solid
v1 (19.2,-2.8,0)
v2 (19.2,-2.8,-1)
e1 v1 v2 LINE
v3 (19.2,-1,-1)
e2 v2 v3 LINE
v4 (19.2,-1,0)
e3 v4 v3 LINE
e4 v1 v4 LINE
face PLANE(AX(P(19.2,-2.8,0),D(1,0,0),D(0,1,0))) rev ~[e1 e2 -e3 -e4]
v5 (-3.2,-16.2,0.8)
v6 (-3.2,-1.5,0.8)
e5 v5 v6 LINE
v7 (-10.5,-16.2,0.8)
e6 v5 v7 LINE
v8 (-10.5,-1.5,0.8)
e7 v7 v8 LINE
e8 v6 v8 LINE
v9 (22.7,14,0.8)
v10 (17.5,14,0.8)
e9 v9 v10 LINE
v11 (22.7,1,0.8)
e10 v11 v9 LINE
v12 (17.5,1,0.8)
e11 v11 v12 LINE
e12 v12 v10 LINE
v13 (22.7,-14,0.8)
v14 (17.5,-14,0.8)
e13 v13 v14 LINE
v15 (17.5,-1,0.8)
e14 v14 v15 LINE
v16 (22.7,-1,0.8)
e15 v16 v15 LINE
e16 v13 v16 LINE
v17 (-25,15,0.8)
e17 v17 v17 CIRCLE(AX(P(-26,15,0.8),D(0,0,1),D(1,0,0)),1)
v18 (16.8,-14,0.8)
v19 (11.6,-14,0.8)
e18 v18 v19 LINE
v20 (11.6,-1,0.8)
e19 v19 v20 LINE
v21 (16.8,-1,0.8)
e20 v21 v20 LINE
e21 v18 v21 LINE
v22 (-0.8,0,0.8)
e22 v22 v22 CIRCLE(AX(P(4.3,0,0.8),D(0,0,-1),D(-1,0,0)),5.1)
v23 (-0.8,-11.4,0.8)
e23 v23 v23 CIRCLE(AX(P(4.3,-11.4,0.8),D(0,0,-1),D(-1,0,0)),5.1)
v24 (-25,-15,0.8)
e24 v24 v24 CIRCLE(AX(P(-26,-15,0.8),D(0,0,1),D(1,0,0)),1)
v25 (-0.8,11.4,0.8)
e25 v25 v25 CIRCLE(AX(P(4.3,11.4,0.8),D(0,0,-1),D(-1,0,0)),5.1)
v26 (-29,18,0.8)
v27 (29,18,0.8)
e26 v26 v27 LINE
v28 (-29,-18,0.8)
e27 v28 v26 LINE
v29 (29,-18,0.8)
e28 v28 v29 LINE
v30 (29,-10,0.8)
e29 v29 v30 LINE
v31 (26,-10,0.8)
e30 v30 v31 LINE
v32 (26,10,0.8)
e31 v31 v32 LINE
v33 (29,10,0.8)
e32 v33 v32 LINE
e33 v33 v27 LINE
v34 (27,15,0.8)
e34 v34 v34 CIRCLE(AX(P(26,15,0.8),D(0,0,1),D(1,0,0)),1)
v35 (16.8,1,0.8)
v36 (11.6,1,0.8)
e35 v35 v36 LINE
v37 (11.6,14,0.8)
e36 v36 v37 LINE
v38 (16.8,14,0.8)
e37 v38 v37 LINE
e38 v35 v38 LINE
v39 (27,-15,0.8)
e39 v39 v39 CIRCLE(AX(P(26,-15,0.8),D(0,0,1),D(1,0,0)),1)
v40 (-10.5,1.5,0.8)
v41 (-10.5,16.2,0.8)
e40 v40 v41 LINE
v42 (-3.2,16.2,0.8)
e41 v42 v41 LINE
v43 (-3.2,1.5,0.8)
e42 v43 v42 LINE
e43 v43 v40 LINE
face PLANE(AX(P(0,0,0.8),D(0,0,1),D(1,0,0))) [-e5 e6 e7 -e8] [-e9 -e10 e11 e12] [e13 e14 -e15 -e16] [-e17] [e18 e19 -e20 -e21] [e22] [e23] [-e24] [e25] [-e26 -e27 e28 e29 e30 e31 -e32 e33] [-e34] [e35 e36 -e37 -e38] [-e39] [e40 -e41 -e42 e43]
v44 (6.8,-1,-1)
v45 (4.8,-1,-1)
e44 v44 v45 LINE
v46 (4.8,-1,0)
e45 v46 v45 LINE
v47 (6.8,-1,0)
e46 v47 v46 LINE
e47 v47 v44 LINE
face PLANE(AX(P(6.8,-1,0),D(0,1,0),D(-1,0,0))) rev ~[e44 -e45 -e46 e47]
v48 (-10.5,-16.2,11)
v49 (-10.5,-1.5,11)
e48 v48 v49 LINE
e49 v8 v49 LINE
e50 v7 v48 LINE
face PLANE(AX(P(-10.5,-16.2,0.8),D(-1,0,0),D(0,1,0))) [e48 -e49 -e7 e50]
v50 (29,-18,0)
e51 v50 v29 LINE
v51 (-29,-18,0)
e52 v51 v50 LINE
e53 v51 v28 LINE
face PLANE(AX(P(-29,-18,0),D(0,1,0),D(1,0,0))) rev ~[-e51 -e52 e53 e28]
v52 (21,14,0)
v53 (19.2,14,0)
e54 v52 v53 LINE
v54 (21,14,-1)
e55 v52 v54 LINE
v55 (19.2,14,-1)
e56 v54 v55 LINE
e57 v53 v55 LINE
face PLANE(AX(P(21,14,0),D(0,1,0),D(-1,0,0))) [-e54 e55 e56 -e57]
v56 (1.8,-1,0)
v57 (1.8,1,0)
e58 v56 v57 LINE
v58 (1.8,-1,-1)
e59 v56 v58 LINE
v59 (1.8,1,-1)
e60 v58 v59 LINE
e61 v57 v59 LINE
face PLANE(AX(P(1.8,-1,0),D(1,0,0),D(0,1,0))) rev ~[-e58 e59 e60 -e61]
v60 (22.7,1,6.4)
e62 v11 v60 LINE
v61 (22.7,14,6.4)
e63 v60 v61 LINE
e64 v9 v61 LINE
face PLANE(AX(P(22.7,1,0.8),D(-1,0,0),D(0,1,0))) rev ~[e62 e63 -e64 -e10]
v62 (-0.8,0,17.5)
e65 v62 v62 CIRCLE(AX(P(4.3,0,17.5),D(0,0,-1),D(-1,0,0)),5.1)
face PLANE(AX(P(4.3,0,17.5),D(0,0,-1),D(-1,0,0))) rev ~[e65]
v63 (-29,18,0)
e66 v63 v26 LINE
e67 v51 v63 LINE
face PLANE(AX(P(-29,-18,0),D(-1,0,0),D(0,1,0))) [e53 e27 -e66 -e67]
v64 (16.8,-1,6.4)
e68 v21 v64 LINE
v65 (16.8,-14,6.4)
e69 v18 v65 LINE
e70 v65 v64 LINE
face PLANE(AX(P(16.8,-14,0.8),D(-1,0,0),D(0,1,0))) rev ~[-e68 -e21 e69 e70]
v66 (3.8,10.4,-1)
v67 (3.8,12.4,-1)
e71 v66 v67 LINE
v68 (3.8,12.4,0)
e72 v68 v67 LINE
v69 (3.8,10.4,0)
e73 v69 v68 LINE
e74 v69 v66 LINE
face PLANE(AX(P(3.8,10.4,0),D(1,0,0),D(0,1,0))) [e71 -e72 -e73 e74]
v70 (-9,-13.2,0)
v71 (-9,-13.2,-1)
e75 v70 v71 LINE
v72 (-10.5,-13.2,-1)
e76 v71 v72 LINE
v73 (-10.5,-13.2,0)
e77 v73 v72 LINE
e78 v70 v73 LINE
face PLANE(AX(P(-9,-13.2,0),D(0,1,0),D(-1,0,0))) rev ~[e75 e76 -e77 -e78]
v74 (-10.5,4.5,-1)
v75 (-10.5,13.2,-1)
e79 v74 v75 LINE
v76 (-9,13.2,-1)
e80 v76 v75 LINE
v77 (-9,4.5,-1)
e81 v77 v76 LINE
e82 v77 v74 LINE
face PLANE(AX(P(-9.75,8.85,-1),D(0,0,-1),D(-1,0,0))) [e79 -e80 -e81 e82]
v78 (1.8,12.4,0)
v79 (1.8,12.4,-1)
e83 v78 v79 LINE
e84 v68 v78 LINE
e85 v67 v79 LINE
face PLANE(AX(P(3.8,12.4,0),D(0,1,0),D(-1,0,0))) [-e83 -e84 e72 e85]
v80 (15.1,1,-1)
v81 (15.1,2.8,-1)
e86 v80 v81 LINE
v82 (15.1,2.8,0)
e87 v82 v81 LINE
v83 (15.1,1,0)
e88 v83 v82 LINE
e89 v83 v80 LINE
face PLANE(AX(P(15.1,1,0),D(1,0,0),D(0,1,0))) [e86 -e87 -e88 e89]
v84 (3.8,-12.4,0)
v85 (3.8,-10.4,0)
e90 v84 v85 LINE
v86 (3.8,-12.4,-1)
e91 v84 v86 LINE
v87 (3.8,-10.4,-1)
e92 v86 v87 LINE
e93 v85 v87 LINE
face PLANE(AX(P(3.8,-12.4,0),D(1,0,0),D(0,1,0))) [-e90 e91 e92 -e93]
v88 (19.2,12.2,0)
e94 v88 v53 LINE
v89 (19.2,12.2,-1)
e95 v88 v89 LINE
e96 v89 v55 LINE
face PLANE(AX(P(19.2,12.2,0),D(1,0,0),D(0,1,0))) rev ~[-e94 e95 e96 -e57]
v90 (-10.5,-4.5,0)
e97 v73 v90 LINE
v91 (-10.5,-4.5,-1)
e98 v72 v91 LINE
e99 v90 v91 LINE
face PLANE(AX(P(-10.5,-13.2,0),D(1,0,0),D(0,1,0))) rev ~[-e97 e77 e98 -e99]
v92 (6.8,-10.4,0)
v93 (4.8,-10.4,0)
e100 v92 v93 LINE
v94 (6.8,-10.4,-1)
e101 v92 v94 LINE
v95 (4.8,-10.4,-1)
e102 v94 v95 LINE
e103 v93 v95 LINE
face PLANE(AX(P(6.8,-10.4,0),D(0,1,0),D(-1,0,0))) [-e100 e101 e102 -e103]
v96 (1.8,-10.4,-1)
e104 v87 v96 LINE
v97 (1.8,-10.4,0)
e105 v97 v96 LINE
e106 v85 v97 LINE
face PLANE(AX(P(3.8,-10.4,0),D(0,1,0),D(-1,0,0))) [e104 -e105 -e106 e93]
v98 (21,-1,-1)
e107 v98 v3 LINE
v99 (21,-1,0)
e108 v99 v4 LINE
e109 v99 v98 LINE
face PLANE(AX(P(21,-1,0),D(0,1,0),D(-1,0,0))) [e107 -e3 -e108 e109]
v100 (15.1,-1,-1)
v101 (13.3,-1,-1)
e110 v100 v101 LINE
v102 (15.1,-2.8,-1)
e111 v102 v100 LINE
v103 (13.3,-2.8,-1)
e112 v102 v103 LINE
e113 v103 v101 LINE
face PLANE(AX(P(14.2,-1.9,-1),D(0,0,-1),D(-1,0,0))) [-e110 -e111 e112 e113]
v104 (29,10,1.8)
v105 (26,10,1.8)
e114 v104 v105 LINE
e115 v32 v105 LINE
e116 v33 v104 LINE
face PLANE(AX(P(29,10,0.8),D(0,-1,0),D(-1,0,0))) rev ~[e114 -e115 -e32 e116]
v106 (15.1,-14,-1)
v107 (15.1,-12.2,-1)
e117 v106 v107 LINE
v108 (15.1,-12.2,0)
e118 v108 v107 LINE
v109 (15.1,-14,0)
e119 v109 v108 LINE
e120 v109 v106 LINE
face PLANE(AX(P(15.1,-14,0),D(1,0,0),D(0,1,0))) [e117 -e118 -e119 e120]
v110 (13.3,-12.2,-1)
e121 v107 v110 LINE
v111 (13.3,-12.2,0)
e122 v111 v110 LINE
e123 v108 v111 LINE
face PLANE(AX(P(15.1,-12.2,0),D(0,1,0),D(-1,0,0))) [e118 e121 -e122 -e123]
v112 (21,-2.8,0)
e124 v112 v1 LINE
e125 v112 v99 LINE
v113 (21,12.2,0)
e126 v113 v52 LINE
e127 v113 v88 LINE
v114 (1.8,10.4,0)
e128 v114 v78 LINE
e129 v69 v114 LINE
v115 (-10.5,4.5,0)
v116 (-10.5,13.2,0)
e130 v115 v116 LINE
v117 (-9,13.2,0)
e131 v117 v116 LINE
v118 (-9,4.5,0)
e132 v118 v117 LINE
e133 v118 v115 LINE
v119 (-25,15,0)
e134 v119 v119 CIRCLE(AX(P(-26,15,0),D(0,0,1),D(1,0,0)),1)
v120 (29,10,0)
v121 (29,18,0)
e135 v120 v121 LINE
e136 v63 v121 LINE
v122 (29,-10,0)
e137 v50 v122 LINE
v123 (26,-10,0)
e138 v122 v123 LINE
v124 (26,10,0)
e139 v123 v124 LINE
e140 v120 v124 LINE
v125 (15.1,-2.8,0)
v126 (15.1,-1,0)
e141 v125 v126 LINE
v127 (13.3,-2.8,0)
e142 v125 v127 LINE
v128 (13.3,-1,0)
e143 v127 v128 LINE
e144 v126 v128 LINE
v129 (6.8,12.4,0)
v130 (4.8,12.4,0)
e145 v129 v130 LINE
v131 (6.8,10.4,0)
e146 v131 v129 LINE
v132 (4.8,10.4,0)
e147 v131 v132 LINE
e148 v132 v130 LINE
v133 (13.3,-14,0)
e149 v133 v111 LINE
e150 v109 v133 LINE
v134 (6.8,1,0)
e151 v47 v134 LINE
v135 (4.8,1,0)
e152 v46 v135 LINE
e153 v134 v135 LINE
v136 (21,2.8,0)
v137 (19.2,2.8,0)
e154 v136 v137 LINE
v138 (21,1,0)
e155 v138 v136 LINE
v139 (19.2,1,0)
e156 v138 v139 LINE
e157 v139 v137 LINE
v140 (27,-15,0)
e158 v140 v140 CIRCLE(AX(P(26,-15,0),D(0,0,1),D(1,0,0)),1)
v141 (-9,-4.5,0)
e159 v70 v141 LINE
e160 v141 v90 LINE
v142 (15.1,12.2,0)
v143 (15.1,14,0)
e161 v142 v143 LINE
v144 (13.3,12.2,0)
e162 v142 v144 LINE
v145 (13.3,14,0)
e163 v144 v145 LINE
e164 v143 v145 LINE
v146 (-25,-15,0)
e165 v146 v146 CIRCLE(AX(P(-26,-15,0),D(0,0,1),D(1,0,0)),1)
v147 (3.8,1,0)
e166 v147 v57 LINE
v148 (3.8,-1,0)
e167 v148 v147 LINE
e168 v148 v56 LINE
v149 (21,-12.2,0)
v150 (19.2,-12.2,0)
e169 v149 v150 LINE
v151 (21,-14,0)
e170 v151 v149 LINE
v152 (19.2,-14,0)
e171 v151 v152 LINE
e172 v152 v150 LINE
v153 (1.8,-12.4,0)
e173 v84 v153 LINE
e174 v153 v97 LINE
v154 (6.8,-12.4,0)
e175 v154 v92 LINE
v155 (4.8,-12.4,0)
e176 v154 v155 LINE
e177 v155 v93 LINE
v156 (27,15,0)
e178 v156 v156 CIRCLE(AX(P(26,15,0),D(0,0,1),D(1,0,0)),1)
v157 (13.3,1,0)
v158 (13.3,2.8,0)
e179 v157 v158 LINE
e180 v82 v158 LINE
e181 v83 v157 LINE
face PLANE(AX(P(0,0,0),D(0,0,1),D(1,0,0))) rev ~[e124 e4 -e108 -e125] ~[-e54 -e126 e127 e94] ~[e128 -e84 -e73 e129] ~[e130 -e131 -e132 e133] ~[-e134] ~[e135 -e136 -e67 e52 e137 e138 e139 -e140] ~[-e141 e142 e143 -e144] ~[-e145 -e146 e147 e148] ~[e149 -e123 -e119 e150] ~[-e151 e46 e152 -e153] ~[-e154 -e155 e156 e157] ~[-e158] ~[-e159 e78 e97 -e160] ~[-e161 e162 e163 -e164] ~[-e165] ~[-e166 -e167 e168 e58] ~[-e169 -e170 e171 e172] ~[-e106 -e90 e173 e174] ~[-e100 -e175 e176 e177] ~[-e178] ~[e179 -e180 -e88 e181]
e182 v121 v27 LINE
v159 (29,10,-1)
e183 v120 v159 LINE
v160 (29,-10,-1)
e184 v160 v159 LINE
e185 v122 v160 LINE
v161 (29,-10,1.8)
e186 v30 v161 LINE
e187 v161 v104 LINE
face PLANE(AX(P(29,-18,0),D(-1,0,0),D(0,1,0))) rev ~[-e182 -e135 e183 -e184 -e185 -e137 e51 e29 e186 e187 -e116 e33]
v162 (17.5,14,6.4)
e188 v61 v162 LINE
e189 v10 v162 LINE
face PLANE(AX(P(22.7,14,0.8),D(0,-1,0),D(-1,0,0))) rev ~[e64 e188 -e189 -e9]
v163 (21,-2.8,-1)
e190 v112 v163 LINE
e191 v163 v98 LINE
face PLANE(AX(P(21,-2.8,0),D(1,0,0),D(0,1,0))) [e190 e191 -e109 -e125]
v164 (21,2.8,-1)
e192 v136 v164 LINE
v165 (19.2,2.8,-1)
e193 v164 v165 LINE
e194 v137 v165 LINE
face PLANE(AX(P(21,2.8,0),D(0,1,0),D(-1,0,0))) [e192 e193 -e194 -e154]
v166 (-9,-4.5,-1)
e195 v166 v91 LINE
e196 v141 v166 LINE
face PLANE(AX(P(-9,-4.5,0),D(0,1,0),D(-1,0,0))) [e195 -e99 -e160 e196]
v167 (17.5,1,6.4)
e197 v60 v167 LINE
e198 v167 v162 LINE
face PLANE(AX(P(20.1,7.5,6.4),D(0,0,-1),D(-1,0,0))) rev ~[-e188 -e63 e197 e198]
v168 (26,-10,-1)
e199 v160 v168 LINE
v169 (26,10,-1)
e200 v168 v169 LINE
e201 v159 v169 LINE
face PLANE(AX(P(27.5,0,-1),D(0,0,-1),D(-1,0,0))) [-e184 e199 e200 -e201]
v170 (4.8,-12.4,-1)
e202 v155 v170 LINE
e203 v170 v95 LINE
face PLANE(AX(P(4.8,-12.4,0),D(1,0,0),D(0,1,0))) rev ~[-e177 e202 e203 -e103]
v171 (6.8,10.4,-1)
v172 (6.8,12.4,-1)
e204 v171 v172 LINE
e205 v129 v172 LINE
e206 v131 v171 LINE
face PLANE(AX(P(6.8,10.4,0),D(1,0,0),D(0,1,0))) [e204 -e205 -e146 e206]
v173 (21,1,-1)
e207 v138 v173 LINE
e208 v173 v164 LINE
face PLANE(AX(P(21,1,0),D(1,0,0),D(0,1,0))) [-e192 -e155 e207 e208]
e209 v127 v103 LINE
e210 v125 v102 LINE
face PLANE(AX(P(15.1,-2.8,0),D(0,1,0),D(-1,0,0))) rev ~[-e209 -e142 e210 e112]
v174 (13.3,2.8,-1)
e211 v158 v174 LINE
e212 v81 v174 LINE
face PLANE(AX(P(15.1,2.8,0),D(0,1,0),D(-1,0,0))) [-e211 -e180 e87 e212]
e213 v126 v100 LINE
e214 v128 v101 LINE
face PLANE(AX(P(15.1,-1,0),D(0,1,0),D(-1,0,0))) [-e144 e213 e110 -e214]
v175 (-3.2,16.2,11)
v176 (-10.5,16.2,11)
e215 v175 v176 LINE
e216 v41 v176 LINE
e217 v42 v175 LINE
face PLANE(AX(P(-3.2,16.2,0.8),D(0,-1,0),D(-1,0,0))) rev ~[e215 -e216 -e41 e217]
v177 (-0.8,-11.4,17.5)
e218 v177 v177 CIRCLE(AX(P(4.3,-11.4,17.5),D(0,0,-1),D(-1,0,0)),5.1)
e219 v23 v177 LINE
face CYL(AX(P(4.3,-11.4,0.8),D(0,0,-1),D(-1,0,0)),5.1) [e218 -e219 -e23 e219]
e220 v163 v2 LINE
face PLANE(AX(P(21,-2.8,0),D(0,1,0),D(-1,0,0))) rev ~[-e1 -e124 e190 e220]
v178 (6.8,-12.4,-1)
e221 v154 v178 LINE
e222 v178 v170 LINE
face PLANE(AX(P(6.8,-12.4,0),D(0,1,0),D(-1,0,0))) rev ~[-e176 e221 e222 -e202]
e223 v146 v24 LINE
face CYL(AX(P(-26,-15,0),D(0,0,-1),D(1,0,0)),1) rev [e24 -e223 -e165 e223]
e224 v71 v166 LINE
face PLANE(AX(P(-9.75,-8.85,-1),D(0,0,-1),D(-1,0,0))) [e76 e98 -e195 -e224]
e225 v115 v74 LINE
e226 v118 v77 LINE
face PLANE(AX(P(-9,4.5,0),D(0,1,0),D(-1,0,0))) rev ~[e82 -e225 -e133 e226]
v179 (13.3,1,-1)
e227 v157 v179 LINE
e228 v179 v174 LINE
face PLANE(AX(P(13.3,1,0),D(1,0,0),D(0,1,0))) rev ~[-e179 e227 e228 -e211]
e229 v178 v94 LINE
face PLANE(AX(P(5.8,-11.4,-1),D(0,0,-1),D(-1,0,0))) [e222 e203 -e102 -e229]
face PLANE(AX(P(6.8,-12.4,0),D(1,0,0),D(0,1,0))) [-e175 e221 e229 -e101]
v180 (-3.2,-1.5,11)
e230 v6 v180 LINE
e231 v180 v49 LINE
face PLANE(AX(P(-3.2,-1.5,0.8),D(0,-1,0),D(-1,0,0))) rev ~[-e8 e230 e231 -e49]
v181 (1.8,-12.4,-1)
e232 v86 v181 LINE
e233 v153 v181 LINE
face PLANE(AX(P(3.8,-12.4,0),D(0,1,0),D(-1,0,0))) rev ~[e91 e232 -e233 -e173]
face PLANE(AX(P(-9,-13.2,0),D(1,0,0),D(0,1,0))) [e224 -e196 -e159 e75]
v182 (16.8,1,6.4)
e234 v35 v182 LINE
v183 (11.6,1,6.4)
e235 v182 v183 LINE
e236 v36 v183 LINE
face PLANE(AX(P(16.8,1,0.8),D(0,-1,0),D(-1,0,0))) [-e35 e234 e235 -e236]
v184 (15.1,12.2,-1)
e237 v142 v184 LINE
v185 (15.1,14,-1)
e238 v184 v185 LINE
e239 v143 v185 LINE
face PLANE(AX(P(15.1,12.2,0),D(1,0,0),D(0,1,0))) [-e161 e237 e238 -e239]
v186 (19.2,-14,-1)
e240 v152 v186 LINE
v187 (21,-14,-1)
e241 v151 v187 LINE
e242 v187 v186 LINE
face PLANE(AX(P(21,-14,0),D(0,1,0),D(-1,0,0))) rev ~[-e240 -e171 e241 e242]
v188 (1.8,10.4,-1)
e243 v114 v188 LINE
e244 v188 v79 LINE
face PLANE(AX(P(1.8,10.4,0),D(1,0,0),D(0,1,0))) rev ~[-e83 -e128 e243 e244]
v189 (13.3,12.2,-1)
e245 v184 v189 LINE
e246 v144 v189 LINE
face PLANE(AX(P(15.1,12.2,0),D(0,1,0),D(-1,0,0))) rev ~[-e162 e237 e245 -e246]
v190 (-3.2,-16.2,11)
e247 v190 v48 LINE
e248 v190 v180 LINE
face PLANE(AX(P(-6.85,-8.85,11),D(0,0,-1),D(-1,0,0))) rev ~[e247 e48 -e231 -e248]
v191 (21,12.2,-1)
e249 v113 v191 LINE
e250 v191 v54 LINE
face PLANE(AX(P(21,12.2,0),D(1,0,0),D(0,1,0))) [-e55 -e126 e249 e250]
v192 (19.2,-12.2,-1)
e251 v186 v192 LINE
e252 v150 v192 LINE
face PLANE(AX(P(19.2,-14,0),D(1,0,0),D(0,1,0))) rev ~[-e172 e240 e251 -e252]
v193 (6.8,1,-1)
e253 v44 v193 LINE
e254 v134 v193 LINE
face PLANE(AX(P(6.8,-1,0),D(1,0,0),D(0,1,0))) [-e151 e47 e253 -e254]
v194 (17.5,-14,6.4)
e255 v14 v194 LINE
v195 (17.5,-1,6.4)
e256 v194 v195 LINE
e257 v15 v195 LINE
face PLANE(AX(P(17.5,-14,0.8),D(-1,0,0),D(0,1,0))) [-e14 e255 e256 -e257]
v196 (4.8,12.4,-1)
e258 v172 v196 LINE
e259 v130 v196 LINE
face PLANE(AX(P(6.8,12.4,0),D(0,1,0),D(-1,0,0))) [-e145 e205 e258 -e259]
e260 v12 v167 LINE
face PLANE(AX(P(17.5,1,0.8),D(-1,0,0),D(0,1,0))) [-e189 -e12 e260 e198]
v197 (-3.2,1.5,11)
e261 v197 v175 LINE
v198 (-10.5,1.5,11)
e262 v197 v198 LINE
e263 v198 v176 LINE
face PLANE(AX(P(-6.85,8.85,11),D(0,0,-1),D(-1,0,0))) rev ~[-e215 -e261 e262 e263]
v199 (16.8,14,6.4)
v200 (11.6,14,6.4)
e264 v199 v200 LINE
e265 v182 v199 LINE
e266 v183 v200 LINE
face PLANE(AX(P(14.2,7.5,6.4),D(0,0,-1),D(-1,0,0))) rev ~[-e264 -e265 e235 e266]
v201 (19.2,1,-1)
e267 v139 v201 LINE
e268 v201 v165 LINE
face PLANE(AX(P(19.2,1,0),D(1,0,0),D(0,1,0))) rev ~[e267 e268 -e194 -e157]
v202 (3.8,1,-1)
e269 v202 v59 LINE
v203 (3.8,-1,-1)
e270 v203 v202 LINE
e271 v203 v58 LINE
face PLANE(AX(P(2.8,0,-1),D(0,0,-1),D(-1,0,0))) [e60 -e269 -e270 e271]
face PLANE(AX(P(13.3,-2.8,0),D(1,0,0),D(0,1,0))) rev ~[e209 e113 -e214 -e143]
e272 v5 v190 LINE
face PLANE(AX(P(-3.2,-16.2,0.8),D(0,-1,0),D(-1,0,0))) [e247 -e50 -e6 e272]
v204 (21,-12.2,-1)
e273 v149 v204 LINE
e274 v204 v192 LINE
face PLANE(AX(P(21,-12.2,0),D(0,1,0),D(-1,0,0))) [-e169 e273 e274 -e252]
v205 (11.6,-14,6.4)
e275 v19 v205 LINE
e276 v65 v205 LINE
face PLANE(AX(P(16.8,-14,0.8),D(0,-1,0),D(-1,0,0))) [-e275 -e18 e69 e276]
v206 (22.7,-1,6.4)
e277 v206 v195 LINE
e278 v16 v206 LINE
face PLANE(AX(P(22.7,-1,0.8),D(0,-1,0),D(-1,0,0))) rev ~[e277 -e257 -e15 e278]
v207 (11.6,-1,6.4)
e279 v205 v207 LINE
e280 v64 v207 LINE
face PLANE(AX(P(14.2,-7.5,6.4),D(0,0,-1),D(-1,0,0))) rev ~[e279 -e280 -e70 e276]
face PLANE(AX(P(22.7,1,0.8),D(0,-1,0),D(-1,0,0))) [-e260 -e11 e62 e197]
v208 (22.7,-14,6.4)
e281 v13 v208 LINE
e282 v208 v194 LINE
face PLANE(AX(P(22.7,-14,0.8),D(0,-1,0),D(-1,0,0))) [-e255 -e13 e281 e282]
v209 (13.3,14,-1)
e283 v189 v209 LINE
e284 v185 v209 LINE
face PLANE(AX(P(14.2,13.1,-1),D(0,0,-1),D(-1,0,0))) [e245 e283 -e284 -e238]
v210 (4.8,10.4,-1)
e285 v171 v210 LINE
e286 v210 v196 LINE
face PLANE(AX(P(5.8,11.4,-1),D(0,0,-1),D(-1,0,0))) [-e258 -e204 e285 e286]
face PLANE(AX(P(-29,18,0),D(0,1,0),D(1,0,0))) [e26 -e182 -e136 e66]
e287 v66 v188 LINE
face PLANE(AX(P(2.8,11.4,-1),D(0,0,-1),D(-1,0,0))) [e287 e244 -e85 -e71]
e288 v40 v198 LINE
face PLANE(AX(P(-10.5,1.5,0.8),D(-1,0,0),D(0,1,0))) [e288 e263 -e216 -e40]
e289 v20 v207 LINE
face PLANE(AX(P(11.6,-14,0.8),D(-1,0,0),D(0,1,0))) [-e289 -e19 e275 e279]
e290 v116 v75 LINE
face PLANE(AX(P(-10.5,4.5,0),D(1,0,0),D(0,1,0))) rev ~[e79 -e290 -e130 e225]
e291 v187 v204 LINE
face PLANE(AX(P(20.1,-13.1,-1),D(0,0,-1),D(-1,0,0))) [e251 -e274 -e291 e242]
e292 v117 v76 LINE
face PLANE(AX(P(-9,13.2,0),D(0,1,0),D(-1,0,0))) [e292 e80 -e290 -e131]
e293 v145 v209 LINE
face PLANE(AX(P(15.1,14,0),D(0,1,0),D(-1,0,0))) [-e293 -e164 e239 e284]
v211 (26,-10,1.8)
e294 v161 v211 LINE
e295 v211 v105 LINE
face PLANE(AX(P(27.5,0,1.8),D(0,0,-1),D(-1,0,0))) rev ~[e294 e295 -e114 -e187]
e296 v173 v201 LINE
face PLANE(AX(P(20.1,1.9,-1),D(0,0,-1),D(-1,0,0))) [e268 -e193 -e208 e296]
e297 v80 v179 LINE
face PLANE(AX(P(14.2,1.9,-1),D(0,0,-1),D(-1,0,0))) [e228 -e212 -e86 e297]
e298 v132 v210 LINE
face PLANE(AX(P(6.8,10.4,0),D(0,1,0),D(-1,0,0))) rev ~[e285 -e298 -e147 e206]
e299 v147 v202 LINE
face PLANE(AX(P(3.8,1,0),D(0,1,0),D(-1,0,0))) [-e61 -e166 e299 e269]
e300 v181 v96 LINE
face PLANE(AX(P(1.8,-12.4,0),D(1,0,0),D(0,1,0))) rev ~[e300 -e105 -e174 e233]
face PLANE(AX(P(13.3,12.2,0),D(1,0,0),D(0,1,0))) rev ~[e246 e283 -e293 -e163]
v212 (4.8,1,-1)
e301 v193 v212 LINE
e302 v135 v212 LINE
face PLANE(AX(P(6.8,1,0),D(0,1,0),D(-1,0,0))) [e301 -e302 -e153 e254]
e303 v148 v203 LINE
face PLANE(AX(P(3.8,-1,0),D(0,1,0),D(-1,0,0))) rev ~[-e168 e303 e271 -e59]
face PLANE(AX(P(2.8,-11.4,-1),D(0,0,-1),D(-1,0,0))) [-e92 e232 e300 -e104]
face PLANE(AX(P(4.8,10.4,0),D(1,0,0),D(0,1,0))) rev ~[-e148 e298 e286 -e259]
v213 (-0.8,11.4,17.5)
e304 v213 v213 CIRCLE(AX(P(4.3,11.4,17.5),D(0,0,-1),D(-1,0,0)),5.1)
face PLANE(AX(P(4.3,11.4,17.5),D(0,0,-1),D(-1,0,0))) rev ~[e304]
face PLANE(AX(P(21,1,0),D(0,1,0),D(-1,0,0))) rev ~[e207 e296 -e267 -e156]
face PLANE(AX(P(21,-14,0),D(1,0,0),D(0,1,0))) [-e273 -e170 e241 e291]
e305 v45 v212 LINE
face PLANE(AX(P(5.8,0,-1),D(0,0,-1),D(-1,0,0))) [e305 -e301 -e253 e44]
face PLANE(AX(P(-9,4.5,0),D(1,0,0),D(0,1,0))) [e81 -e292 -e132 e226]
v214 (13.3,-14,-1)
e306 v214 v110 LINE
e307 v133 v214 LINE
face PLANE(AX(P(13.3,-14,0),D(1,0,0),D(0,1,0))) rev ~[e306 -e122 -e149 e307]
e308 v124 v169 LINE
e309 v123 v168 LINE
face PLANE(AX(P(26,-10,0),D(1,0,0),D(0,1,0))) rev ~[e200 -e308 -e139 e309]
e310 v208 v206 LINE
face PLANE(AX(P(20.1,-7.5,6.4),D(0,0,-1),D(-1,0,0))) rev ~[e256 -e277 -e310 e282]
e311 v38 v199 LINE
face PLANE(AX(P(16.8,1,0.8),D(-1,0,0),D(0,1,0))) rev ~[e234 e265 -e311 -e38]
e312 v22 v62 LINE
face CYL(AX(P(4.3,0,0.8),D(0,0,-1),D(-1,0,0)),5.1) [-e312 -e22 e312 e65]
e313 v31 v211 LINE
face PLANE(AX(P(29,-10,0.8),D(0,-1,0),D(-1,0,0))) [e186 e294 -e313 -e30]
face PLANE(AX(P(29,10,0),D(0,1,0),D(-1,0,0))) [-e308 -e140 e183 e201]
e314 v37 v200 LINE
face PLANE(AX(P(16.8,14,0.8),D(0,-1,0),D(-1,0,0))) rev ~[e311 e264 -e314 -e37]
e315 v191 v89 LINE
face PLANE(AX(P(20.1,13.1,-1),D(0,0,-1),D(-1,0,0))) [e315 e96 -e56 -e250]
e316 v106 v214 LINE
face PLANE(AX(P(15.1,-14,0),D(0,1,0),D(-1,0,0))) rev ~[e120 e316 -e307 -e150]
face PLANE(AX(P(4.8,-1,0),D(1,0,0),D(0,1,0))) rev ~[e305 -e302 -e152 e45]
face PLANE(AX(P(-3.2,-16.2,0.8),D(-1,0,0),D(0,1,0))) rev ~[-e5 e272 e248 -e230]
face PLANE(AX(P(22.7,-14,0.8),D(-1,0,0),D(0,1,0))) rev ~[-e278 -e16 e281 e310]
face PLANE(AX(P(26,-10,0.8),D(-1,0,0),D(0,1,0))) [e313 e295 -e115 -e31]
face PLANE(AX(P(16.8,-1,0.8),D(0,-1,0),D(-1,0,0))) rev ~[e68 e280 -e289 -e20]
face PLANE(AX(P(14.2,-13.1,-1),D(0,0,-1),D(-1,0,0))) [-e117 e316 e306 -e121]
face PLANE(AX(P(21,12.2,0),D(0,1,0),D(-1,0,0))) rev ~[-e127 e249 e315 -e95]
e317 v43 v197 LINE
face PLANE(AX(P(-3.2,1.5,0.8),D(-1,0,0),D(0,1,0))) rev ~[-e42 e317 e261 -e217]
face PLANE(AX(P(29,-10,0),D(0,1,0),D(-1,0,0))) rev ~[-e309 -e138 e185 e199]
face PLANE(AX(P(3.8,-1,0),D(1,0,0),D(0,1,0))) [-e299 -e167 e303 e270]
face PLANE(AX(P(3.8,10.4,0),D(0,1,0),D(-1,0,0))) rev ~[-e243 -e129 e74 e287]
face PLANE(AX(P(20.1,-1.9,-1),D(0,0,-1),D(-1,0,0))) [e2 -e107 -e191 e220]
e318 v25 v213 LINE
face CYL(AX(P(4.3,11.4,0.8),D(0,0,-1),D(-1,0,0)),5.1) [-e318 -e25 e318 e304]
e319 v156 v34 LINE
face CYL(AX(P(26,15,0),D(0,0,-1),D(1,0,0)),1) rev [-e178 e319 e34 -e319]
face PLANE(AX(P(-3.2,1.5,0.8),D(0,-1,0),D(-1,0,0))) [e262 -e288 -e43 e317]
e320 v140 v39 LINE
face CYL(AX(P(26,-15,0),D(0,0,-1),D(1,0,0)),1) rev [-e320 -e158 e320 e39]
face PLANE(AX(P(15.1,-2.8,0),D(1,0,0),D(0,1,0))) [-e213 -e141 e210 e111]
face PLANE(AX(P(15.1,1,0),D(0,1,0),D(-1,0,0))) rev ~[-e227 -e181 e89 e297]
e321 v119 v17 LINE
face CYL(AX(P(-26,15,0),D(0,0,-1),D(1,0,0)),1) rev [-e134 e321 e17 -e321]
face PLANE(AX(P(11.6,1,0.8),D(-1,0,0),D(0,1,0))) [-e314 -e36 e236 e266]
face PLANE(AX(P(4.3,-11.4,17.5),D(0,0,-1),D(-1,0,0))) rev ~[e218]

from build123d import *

# Parameters (mm, degrees)
SKETCH_1_W      = 58
SKETCH_1_H      = 36
SKETCH_1_R      = 1
EXTRUDE_1_DEPTH = 0.8
SKETCH_2_W      = 1.8
SKETCH_2_H      = 1.8
EXTRUDE_2_DEPTH = 1
EXTRUDE_START   = -0.8
SKETCH_2_3_W    = 5.2
SKETCH_2_3_H    = 13
EXTRUDE_3_DEPTH = 5.6
SKETCH_3_W      = 1.5
SKETCH_3_H      = 8.7
EXTRUDE_4_DEPTH = 1
SKETCH_3_3_W    = 7.3
SKETCH_3_3_H    = 14.7
EXTRUDE_5_DEPTH = 10.2
SKETCH_4_W      = 2
SKETCH_4_H      = 2
EXTRUDE_6_DEPTH = 1
SKETCH_4_3_R    = 5.1
EXTRUDE_7_DEPTH = 16.7
SKETCH_5_W      = 3
SKETCH_5_H      = 20
EXTRUDE_8_DEPTH = 1
SKETCH_5_2_W    = 3
SKETCH_5_2_H    = 20
EXTRUDE_9_DEPTH = 1


with BuildPart() as part:
    # 草图1 → 凸台-拉伸1 (new body)
    with BuildSketch(Plane.XY):
        Rectangle(SKETCH_1_W, SKETCH_1_H)
        with Locations((-26, -15)):
            Circle(SKETCH_1_R, mode=Mode.SUBTRACT)
        with Locations((-26, 15)):
            Circle(SKETCH_1_R, mode=Mode.SUBTRACT)
        with Locations((26, 15)):
            Circle(SKETCH_1_R, mode=Mode.SUBTRACT)
        with Locations((26, -15)):
            Circle(SKETCH_1_R, mode=Mode.SUBTRACT)
    extrude(amount=EXTRUDE_1_DEPTH)

    # 草图2 → 凸台-拉伸2 (add)
    with BuildSketch(Plane(origin=(0, 0, 0), x_dir=(-1, 0, 0), z_dir=(0, 0, -1))):
        with Locations((-20.1, -13.1)):
            Rectangle(SKETCH_2_W, SKETCH_2_H)
        with Locations((-20.1, -1.9)):
            Rectangle(SKETCH_2_W, SKETCH_2_H)
        with Locations((-20.1, 1.9)):
            Rectangle(SKETCH_2_W, SKETCH_2_H)
        with Locations((-20.1, 13.1)):
            Rectangle(SKETCH_2_W, SKETCH_2_H)
        with Locations((-14.2, 13.1)):
            Rectangle(SKETCH_2_W, SKETCH_2_H)
        with Locations((-14.2, 1.9)):
            Rectangle(SKETCH_2_W, SKETCH_2_H)
        with Locations((-14.2, -1.9)):
            Rectangle(SKETCH_2_W, SKETCH_2_H)
        with Locations((-14.2, -13.1)):
            Rectangle(SKETCH_2_W, SKETCH_2_H)
    extrude(amount=EXTRUDE_2_DEPTH)

    # 草图2<3> → 凸台-拉伸3 (add)
    with BuildSketch(Plane(origin=(0, 0, 0), x_dir=(-1, 0, 0), z_dir=(0, 0, -1)).offset(EXTRUDE_START)):
        with Locations((-20.1, 7.5)):
            Rectangle(SKETCH_2_3_W, SKETCH_2_3_H)
        with Locations((-14.2, 7.5)):
            Rectangle(SKETCH_2_3_W, SKETCH_2_3_H)
        with Locations((-20.1, -7.5)):
            Rectangle(SKETCH_2_3_W, SKETCH_2_3_H)
        with Locations((-14.2, -7.5)):
            Rectangle(SKETCH_2_3_W, SKETCH_2_3_H)
    extrude(amount=-EXTRUDE_3_DEPTH)

    # 草图3 → 凸台-拉伸4 (add)
    with BuildSketch(Plane(origin=(0, 0, 0), x_dir=(-1, 0, 0), z_dir=(0, 0, -1))):
        with Locations((9.75, 8.85)):
            Rectangle(SKETCH_3_W, SKETCH_3_H)
        with Locations((9.75, -8.85)):
            Rectangle(SKETCH_3_W, SKETCH_3_H)
    extrude(amount=EXTRUDE_4_DEPTH)

    # 草图3<3> → 凸台-拉伸5 (add)
    with BuildSketch(Plane(origin=(0, 0, 0), x_dir=(-1, 0, 0), z_dir=(0, 0, -1)).offset(EXTRUDE_START)):
        with Locations((6.85, 8.85)):
            Rectangle(SKETCH_3_3_W, SKETCH_3_3_H)
        with Locations((6.85, -8.85)):
            Rectangle(SKETCH_3_3_W, SKETCH_3_3_H)
    extrude(amount=-EXTRUDE_5_DEPTH)

    # 草图4 → 凸台-拉伸6 (add)
    with BuildSketch(Plane(origin=(0, 0, 0), x_dir=(-1, 0, 0), z_dir=(0, 0, -1))):
        with Locations((-5.8, 0)):
            Rectangle(SKETCH_4_W, SKETCH_4_H)
        with Locations((-2.8, 0)):
            Rectangle(SKETCH_4_W, SKETCH_4_H)
        with Locations((-5.8, 11.4)):
            Rectangle(SKETCH_4_W, SKETCH_4_H)
        with Locations((-2.8, 11.4)):
            Rectangle(SKETCH_4_W, SKETCH_4_H)
        with Locations((-5.8, -11.4)):
            Rectangle(SKETCH_4_W, SKETCH_4_H)
        with Locations((-2.8, -11.4)):
            Rectangle(SKETCH_4_W, SKETCH_4_H)
    extrude(amount=EXTRUDE_6_DEPTH)

    # 草图4<3> → 凸台-拉伸7 (add)
    with BuildSketch(Plane(origin=(0, 0, 0), x_dir=(-1, 0, 0), z_dir=(0, 0, -1)).offset(EXTRUDE_START)):
        with Locations((-4.3, 0)):
            Circle(SKETCH_4_3_R)
        with Locations((-4.3, 11.4)):
            Circle(SKETCH_4_3_R)
        with Locations((-4.3, -11.4)):
            Circle(SKETCH_4_3_R)
    extrude(amount=-EXTRUDE_7_DEPTH)

    # 草图5 → 凸台-拉伸8 (add)
    with BuildSketch(Plane(origin=(0, 0, 0), x_dir=(-1, 0, 0), z_dir=(0, 0, -1))):
        with Locations((-27.5, 0)):
            Rectangle(SKETCH_5_W, SKETCH_5_H)
    extrude(amount=EXTRUDE_8_DEPTH)

    # 草图5<2> → 凸台-拉伸9 (add)
    with BuildSketch(Plane(origin=(0, 0, 0), x_dir=(-1, 0, 0), z_dir=(0, 0, -1)).offset(EXTRUDE_START)):
        with Locations((-27.5, 0)):
            Rectangle(SKETCH_5_2_W, SKETCH_5_2_H)
    extrude(amount=-EXTRUDE_9_DEPTH)


solid = part.part
